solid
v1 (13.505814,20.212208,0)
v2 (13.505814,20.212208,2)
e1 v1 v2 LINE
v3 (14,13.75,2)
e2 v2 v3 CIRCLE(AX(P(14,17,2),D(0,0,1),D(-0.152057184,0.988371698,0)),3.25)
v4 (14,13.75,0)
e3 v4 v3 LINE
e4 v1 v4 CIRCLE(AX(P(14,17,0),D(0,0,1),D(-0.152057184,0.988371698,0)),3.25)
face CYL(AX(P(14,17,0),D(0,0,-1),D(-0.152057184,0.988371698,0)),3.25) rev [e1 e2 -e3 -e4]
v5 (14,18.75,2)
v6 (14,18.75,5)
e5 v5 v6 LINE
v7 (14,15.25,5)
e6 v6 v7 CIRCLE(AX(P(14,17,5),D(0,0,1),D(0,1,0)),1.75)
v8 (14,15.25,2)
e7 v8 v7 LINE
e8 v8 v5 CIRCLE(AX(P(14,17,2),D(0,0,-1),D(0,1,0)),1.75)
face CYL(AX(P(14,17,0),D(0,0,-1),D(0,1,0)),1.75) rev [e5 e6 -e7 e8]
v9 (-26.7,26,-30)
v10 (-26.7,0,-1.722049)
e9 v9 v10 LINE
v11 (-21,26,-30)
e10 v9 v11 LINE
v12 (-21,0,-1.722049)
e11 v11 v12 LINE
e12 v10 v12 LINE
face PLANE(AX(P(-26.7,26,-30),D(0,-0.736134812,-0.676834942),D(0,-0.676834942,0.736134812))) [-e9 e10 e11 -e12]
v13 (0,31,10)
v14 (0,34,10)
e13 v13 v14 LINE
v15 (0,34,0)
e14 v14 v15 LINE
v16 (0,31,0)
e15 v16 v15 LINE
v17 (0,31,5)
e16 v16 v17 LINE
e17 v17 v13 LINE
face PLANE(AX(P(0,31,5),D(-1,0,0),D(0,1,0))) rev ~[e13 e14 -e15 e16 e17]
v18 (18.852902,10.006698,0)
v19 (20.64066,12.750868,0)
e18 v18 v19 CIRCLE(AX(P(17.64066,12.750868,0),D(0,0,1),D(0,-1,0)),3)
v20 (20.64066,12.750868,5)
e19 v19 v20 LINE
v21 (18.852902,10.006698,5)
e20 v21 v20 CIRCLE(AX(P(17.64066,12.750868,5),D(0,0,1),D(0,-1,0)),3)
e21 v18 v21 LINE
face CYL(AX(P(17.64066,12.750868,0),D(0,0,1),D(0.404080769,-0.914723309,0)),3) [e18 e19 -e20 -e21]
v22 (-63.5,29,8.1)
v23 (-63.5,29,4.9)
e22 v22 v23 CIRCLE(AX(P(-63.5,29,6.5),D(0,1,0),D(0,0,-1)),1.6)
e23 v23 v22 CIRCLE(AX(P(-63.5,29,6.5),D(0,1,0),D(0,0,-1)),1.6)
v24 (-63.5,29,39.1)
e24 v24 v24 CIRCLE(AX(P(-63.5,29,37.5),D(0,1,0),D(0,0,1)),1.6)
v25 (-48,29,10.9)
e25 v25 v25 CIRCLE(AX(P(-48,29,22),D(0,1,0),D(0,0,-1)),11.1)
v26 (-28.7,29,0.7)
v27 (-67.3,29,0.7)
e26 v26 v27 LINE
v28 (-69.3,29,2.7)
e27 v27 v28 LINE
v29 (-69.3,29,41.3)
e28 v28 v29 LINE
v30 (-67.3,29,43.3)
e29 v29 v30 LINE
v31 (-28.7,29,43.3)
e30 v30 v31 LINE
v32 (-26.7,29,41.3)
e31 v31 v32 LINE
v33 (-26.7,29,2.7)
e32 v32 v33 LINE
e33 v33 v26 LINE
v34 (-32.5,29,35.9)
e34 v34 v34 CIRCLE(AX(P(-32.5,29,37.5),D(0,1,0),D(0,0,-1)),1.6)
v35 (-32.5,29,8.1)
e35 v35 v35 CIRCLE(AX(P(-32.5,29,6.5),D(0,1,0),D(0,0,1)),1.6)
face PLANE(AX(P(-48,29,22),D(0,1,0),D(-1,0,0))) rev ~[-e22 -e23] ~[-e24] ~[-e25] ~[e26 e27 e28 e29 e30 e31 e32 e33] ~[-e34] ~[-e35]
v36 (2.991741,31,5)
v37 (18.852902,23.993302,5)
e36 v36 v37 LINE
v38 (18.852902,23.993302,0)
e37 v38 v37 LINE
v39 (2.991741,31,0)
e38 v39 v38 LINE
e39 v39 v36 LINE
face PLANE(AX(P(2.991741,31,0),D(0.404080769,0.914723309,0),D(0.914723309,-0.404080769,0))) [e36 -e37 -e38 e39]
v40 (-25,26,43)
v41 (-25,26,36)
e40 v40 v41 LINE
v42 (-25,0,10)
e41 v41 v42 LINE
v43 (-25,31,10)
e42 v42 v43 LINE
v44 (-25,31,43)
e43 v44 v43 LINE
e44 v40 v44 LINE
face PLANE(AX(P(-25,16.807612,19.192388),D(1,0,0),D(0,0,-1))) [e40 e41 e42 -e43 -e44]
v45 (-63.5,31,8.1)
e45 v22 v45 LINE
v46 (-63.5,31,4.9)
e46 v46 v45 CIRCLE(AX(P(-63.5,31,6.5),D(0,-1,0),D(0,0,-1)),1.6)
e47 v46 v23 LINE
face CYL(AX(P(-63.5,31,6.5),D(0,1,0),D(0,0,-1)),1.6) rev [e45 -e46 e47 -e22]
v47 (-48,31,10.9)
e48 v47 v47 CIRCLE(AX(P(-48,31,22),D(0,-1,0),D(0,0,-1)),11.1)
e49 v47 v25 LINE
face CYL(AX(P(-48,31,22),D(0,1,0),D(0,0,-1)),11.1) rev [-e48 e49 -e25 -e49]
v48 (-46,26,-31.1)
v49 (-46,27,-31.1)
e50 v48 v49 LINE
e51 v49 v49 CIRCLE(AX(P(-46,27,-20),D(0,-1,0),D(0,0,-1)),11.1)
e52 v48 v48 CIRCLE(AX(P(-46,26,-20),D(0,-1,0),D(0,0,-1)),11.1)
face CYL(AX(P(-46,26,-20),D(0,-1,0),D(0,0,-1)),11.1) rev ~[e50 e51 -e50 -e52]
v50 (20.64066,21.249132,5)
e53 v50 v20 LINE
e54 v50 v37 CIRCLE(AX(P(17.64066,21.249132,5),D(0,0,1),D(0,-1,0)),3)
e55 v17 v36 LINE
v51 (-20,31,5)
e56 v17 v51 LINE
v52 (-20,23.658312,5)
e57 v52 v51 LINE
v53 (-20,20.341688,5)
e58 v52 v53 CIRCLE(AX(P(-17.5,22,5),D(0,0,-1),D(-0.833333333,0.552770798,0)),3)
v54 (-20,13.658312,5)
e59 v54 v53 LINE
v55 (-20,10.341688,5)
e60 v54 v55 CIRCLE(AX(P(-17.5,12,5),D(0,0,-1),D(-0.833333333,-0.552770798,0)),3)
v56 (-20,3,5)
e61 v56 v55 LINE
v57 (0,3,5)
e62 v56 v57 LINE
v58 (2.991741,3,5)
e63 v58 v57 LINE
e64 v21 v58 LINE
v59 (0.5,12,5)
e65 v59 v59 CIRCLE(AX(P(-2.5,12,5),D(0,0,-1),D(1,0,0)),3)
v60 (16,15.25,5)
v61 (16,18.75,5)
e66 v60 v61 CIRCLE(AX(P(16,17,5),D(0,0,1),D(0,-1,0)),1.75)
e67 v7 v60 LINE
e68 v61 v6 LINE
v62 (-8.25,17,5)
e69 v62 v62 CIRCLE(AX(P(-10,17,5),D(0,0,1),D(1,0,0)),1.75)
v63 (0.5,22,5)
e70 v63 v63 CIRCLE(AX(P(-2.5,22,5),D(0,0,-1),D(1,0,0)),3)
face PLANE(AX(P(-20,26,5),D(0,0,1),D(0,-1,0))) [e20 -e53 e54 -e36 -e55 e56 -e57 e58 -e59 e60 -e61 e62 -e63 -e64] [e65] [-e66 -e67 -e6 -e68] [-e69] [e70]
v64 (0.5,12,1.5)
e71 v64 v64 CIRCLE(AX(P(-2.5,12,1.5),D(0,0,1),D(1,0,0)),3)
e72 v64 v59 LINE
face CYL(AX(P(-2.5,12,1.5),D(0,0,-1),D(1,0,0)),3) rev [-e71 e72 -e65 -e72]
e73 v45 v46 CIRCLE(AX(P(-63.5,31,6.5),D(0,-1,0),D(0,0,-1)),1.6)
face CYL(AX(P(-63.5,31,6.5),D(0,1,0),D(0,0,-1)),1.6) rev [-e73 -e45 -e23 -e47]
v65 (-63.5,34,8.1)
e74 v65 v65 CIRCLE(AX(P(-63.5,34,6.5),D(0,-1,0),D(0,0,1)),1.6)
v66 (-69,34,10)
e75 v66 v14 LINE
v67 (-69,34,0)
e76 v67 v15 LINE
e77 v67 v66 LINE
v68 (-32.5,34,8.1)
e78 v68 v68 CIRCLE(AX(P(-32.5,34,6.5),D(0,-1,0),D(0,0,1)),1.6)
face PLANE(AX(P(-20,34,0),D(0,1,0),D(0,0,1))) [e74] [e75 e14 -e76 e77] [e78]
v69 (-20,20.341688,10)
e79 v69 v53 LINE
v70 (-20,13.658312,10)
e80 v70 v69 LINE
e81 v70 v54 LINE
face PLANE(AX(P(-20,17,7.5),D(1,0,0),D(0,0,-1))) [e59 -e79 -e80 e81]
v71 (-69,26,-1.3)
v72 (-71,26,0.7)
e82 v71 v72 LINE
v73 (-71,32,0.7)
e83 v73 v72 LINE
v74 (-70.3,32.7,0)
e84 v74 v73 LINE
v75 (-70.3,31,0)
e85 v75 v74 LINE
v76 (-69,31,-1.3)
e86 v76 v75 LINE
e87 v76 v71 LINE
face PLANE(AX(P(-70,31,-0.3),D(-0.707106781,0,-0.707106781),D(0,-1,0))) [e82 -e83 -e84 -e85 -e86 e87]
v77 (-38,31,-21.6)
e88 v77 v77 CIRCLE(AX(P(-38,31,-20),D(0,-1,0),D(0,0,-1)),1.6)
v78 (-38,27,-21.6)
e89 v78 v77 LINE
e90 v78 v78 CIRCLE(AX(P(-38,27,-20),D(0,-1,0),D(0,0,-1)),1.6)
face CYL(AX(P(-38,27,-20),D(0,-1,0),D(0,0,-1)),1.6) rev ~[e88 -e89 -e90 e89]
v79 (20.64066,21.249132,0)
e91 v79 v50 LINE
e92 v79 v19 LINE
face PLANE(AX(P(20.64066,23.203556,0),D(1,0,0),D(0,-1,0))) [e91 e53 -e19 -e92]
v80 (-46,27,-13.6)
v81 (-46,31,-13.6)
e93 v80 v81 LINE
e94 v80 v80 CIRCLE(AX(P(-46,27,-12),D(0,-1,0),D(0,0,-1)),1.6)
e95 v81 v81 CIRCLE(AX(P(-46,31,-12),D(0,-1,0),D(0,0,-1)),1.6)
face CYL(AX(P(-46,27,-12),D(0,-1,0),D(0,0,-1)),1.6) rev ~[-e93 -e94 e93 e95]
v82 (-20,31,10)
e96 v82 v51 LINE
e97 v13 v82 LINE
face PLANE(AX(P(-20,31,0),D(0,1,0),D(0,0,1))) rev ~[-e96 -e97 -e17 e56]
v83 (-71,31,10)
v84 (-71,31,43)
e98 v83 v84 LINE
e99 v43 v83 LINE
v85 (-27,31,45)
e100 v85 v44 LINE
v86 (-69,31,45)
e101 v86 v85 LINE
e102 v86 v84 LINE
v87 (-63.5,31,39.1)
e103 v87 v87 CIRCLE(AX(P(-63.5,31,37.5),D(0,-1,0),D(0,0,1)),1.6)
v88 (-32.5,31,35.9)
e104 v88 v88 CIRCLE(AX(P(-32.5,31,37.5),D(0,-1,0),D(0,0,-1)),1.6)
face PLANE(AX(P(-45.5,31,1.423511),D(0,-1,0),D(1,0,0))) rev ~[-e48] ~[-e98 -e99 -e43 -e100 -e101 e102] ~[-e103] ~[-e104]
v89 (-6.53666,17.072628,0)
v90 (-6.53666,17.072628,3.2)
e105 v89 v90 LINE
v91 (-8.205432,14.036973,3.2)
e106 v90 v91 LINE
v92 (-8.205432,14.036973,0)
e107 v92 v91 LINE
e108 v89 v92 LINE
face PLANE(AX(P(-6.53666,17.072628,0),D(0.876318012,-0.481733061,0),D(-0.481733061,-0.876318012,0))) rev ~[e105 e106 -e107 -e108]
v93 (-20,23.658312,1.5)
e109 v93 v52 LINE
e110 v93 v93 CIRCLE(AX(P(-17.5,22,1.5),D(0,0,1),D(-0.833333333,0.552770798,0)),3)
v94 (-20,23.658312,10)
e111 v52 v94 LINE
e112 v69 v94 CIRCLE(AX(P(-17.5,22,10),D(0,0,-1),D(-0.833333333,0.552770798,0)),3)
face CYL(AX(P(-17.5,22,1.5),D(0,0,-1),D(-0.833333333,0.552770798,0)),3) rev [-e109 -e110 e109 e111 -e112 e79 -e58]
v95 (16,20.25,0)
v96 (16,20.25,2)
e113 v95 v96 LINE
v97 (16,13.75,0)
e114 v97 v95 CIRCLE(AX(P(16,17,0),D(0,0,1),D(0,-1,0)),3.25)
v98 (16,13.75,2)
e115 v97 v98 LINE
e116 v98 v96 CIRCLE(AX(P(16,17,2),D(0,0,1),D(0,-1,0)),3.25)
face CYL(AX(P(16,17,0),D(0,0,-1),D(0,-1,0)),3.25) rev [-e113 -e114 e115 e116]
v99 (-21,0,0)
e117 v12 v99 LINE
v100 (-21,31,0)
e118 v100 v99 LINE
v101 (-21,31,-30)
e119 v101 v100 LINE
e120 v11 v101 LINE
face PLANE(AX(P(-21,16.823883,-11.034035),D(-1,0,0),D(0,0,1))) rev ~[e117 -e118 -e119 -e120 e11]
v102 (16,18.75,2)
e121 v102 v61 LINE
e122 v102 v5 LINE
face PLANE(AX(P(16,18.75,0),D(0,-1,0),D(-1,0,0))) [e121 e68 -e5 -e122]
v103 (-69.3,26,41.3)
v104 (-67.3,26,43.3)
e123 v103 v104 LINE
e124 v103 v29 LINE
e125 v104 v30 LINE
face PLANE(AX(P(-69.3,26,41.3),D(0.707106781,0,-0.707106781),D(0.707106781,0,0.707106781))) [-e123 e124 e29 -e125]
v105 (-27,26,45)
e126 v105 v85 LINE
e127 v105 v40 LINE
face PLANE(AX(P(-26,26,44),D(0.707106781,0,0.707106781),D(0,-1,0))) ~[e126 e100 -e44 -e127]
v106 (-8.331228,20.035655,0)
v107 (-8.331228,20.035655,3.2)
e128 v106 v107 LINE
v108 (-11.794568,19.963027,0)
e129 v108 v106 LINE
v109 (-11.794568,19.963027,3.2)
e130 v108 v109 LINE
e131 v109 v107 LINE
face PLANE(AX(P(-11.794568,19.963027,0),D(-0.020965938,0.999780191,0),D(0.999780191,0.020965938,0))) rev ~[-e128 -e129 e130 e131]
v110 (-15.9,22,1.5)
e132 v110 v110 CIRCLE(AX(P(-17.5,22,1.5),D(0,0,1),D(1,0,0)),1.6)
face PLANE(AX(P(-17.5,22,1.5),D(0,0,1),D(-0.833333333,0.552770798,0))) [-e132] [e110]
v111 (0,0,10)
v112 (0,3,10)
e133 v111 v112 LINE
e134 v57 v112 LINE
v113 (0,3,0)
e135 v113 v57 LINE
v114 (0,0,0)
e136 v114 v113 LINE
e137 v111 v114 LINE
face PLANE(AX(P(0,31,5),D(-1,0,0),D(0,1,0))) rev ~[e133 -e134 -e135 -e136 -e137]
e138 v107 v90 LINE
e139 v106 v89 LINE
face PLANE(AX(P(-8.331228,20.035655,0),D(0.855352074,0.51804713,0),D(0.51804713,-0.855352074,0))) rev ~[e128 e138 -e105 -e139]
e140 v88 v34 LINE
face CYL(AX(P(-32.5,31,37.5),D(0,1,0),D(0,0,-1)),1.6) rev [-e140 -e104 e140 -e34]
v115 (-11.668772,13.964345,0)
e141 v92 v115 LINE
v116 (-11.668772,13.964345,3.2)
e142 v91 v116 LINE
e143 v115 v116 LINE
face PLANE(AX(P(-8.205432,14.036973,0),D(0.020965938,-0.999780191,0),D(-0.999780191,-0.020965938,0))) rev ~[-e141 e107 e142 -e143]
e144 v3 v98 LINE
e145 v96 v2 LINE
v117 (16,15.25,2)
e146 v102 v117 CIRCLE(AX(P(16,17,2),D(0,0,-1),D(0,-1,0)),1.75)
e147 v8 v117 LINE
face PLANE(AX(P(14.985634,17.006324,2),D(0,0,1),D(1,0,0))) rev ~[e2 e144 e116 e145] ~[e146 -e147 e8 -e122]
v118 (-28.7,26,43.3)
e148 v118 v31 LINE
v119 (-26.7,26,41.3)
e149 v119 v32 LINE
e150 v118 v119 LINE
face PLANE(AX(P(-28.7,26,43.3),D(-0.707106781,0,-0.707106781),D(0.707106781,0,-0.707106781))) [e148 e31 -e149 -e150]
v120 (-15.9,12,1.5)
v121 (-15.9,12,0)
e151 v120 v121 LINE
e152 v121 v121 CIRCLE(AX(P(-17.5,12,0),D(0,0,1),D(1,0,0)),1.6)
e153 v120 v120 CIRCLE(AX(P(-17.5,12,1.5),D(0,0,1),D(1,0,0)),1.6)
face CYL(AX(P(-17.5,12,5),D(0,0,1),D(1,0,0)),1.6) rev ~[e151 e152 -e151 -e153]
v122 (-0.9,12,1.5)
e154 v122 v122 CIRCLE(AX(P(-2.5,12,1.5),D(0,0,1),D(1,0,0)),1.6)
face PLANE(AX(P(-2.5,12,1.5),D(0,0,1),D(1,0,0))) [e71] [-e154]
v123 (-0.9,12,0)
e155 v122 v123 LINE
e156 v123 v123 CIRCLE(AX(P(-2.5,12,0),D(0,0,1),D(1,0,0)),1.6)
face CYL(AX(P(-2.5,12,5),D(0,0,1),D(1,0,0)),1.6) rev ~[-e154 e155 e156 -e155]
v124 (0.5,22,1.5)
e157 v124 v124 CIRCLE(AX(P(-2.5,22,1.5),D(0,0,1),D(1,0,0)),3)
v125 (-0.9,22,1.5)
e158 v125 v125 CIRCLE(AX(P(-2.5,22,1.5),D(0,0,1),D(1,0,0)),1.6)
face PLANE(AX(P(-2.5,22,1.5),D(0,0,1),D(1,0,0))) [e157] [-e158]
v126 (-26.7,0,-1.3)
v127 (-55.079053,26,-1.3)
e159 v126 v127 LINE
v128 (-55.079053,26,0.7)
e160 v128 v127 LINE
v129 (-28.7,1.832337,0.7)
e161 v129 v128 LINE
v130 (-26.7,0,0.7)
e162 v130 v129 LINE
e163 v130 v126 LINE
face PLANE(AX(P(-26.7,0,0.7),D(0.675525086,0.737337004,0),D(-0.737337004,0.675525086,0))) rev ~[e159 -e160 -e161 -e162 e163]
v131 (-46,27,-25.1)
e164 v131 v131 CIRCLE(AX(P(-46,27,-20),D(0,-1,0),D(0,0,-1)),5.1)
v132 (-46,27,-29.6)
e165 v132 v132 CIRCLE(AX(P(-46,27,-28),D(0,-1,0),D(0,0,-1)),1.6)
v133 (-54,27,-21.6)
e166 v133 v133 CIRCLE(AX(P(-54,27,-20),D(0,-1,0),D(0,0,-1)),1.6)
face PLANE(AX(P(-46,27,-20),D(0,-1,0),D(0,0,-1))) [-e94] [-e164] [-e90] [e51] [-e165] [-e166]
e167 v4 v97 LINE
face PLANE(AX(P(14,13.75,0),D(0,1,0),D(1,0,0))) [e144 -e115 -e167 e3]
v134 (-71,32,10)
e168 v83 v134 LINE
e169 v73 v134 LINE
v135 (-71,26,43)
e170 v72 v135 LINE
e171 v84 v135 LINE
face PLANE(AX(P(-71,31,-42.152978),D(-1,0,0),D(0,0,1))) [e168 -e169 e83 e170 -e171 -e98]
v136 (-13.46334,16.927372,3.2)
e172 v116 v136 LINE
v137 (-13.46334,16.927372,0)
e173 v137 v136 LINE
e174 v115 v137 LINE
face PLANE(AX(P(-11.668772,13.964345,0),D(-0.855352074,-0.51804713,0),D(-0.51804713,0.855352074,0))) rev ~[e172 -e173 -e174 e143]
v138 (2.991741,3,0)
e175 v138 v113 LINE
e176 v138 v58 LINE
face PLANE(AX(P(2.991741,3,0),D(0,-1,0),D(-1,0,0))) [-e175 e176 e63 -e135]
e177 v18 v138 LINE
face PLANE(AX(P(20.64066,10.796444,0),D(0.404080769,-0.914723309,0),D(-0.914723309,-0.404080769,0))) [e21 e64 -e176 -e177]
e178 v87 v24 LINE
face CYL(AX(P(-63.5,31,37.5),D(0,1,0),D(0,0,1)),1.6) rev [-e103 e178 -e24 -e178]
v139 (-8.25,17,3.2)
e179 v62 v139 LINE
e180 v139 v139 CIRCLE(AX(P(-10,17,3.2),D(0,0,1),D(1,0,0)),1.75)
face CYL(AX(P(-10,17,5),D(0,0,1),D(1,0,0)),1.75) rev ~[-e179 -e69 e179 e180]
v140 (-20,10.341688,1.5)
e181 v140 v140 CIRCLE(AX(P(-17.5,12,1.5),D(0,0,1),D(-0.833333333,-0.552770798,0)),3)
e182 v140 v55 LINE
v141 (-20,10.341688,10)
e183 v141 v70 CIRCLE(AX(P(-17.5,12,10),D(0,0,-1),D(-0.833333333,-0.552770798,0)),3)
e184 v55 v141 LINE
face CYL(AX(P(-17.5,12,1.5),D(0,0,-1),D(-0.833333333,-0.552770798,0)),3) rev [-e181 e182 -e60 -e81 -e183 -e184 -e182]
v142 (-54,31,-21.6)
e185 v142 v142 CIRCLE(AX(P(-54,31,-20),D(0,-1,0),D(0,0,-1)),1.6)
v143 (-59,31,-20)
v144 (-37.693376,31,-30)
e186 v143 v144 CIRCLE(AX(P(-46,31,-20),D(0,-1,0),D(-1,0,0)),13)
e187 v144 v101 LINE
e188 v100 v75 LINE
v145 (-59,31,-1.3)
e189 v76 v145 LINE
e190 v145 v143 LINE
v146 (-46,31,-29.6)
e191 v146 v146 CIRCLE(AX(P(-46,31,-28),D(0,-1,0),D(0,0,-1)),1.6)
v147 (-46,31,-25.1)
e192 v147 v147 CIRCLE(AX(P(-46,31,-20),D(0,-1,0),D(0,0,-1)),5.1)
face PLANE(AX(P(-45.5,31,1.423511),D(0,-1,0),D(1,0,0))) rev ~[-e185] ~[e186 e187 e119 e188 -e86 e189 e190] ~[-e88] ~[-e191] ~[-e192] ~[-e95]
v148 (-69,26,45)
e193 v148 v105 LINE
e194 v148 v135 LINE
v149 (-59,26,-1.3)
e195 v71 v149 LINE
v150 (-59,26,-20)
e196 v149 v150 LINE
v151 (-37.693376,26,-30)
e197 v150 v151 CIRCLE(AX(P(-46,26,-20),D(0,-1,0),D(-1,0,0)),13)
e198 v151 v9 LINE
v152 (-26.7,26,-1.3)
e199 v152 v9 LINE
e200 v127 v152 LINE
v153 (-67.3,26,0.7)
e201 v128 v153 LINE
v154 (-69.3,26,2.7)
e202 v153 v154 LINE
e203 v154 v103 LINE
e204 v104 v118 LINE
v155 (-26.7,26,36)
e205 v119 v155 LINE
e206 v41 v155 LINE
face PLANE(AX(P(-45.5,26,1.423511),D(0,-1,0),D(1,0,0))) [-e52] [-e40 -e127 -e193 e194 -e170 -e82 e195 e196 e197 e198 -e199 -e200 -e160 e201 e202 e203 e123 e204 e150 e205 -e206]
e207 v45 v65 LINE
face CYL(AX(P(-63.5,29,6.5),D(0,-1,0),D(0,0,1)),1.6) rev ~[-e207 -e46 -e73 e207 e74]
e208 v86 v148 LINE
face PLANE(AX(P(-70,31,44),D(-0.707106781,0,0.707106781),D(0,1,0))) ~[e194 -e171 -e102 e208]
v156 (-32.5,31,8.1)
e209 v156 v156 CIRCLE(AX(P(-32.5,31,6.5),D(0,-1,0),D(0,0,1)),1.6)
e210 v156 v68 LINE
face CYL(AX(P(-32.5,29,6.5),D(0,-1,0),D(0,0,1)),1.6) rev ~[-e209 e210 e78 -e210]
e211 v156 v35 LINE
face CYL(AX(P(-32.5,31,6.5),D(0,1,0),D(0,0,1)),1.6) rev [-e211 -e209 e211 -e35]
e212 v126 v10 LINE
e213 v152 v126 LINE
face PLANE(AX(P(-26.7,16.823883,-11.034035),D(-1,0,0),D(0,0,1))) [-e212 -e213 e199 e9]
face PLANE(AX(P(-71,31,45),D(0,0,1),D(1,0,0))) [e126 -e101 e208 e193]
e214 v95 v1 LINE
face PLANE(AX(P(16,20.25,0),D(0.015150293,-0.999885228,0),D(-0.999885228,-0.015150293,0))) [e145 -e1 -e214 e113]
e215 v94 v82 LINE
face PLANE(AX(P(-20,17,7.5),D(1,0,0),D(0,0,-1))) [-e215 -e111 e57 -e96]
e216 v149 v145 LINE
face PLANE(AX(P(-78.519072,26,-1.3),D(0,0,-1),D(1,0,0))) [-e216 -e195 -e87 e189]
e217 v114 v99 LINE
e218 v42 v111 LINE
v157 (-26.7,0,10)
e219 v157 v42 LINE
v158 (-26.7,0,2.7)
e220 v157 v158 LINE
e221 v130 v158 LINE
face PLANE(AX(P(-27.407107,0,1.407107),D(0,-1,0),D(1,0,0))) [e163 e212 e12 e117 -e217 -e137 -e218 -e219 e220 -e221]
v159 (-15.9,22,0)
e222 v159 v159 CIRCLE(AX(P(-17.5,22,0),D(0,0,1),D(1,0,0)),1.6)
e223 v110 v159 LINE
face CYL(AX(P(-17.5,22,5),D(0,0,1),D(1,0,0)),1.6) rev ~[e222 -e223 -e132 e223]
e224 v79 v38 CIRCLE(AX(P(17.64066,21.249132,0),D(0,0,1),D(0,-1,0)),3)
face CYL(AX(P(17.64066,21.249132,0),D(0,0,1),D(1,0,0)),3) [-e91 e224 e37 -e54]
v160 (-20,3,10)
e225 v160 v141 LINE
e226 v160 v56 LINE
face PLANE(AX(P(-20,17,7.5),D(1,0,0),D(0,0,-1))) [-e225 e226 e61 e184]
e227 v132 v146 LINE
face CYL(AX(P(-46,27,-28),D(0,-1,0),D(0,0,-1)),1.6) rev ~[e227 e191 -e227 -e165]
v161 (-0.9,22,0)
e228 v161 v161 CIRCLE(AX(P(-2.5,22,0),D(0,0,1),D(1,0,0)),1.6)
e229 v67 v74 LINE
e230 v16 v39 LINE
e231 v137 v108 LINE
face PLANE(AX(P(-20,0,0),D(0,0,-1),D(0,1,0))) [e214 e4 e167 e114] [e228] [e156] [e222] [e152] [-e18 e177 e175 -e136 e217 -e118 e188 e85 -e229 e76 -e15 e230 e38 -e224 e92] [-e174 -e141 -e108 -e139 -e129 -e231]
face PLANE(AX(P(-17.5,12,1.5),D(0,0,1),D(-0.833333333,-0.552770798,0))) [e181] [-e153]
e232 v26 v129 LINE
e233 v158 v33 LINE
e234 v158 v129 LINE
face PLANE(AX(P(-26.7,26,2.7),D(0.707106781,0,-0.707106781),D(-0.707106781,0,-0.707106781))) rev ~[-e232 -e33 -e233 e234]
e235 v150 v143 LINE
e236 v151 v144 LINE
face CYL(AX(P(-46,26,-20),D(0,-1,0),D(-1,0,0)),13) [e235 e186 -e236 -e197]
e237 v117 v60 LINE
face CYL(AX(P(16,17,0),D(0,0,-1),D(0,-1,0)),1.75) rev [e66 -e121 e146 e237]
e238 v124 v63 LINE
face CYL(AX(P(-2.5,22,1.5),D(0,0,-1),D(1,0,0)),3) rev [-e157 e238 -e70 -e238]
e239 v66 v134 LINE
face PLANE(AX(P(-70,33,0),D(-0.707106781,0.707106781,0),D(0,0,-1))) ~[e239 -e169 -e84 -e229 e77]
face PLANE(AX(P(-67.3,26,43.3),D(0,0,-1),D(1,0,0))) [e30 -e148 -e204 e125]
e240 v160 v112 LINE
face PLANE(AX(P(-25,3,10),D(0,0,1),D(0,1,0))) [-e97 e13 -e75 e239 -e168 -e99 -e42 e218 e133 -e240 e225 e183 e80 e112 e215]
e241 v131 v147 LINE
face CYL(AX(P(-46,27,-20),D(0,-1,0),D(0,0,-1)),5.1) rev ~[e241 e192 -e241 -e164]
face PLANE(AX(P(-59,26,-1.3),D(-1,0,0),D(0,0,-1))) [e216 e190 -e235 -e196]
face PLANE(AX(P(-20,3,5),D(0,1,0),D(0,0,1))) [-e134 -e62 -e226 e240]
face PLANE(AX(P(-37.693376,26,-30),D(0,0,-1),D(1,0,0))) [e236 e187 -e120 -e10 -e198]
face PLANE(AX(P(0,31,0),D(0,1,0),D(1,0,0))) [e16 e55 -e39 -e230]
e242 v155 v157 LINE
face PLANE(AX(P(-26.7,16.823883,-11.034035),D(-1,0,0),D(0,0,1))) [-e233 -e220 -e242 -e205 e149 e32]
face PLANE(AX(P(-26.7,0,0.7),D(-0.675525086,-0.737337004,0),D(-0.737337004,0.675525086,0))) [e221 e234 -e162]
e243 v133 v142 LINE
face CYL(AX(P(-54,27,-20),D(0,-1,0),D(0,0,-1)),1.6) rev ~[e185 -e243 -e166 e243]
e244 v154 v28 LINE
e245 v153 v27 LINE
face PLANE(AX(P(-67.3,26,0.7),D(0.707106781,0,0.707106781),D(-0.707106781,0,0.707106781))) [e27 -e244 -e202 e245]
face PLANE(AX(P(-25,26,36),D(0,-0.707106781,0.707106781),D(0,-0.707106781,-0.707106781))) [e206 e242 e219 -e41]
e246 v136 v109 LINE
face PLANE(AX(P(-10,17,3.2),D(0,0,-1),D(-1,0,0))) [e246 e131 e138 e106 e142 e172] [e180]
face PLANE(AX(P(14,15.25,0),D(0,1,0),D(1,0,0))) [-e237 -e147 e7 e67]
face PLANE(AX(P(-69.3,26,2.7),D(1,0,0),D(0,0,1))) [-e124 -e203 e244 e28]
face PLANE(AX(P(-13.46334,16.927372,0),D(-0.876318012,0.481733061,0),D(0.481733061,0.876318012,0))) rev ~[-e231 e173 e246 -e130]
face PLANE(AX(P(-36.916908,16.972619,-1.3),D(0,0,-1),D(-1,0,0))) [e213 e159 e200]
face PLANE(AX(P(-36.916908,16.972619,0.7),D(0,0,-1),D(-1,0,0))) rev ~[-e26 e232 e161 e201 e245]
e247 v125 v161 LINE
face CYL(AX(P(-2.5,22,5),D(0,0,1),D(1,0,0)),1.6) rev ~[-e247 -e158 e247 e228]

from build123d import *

# Parameters (mm, degrees)
SKETCH_1_W                = 20
SKETCH_1_H                = 34
EXTRUDE_1_DEPTH           = 5
SKETCH_2_W                = 20
SKETCH_2_H                = 3
EXTRUDE_2_DEPTH           = 5
EXTRUDE_3_DEPTH           = 5
FILLET_1_R                = 3
CUT_EXTRUDE_1_DEPTH       = 2
SKETCH_7_R                = 1.6
CUT_EXTRUDE_2_DEPTH       = 41.087864079
SKETCH_8_R                = 1.75
CUT_EXTRUDE_3_DEPTH       = 41.087864079
CUT_EXTRUDE_5_DEPTH       = 3.2
SKETCH_14_W               = 10
SKETCH_14_H               = 3
EXTRUDE_26_DEPTH          = 51
SKETCH_11_W               = 51
SKETCH_11_H               = 87.152977717
SKETCH_11_R               = 11.1
SKETCH_11_R_2             = 1.6
EXTRUDE_27_DEPTH          = 5
CUT_EXTRUDE_7_DEPTH       = 3
SKETCH_16_R               = 1.6
CUT_EXTRUDE_8_DEPTH       = 89.921313531
EXTRUDE_28_DEPTH          = 6.7
SKETCH_18_W               = 40
SKETCH_18_H               = 5
CUT_EXTRUDE_9_DEPTH       = 5
CHAMFER_1_SIZE            = 2
SKETCH_19_W               = 1.7
SKETCH_19_H               = 23
EXTRUDE_31_DEPTH          = 5
SKETCH_20_W               = 5
SKETCH_20_H               = 28
EXTRUDE_33_DEPTH          = 5
EXTRUDE_34_DEPTH          = 1.7
SKETCH_24_R               = 11.1
CUT_EXTRUDE_10_DEPTH      = 1
CUT_EXTRUDE_12_DEPTH      = 88.98863563
SKETCH_26_R               = 5.1
CUT_EXTRUDE_13_DEPTH      = 89.2892972
CHAMFER_2_SIZE            = 2
EXTRUDE_35_DEPTH          = 5.7
EXTRUDE_36_DEPTH          = 2
EXTRUDE_37_DEPTH          = 26
CUT_EXTRUDE_14_DEPTH      = 91.329895384
SKETCH_32_R               = 1.6
CUT_EXTRUDE_15_DEPTH      = 89.2892972
CUT_EXTRUDE_16_DEPTH      = 10
CUT_EXTRUDE_16_DEPTH_BACK = 3.5
SKETCH_33_R               = 3


with BuildPart() as part:
    # 草图1 → 凸台-拉伸1 (new body)
    with BuildSketch(Plane.XY):
        with Locations((-10, 17)):
            Rectangle(SKETCH_1_W, SKETCH_1_H)
    extrude(amount=EXTRUDE_1_DEPTH)

    # 草图2 → 凸台-拉伸2 (add)
    with BuildSketch(Plane.XY.offset(5)):
        with Locations((-10, 32.5)):
            Rectangle(SKETCH_2_W, SKETCH_2_H)
        with Locations((-10, 1.5)):
            Rectangle(SKETCH_2_W, SKETCH_2_H)
    extrude(amount=EXTRUDE_2_DEPTH)

    # 草图4 → 凸台-拉伸3 (add)
    with BuildSketch(Plane(origin=(0, 0, 0), x_dir=(-1, 0, 0), z_dir=(0, 0, -1))):
        Polygon((0, 3), (0, 31), (-2.991740991, 31), (-20.640660029, 23.203556304), (-20.640660029, 10.796443696), (-2.991740991, 3), align=None)
        with BuildLine():
            ThreePointArc((-16, 15.25), (-17.75, 17), (-16, 18.75))
            Line((-16, 18.75), (-14, 18.75))
            ThreePointArc((-14, 18.75), (-12.25, 17), (-14, 15.25))
            Line((-14, 15.25), (-16, 15.25))
        make_face(mode=Mode.SUBTRACT)
    extrude(amount=-EXTRUDE_3_DEPTH)

    # 圆角1
    fillet_1_edges = [part.edges().sort_by_distance(p)[0] for p in [
        (20.640660029, 10.796443696, 2.5),
        (20.640660029, 23.203556304, 2.5),
    ]]
    fillet(fillet_1_edges, radius=FILLET_1_R)

    # 草图5 → 切除-拉伸1 (cut)
    with BuildSketch(Plane(origin=(0, 0, 0), x_dir=(-1, 0, 0), z_dir=(0, 0, -1))):
        with BuildLine():
            Line((-16, 20.25), (-13.505814151, 20.212208017))
            ThreePointArc((-13.505814151, 20.212208017), (-10.759461769, 16.75218561), (-14, 13.75))
            Line((-14, 13.75), (-16, 13.75))
            ThreePointArc((-16, 13.75), (-19.25, 17), (-16, 20.25))
        make_face()
    extrude(amount=-CUT_EXTRUDE_1_DEPTH, mode=Mode.SUBTRACT)

    # 草图7 → 切除-拉伸2 (cut, through all)
    with BuildSketch(Plane.XY.offset(5)):
        with Locations((-17.5, 22)):
            Circle(SKETCH_7_R)
        with Locations((-2.5, 22)):
            Circle(SKETCH_7_R)
        with Locations((-2.5, 12)):
            Circle(SKETCH_7_R)
        with Locations((-17.5, 12)):
            Circle(SKETCH_7_R)
    extrude(amount=-CUT_EXTRUDE_2_DEPTH, mode=Mode.SUBTRACT)

    # 草图8 → 切除-拉伸3 (cut, through all)
    with BuildSketch(Plane.XY.offset(5)):
        with Locations((-10, 17)):
            Circle(SKETCH_8_R)
    extrude(amount=-CUT_EXTRUDE_3_DEPTH, mode=Mode.SUBTRACT)

    # 草图9 → 切除-拉伸5 (cut)
    with BuildSketch(Plane(origin=(0, 0, 0), x_dir=(-1, 0, 0), z_dir=(0, 0, -1))):
        Polygon((11.668772273, 13.964345359), (13.463340173, 16.927371861), (11.7945679, 19.963026502), (8.331227727, 20.035654641), (6.536659827, 17.072628139), (8.2054321, 14.036973498), align=None)
    extrude(amount=-CUT_EXTRUDE_5_DEPTH, mode=Mode.SUBTRACT)

    # 草图14 → 凸台-拉伸26 (add)
    with BuildSketch(Plane.ZY.offset(20)):
        with Locations((5, 32.5)):
            Rectangle(SKETCH_14_W, SKETCH_14_H)
    extrude(amount=EXTRUDE_26_DEPTH)

    # 草图11 → 凸台-拉伸27 (add)
    with BuildSketch(Plane.XZ.offset(-31)):
        with Locations((-45.5, 1.423511141)):
            Rectangle(SKETCH_11_W, SKETCH_11_H)
        with Locations(Location((-48, 22, 0), (0, 0, 270))):
            Circle(SKETCH_11_R, mode=Mode.SUBTRACT)
        with Locations(Location((-32.5, 37.5, 0), (0, 0, 270))):
            Circle(SKETCH_11_R_2, mode=Mode.SUBTRACT)
        with Locations(Location((-32.5, 6.5, 0), (0, 0, 90))):
            Circle(SKETCH_11_R_2, mode=Mode.SUBTRACT)
        with Locations(Location((-63.5, 6.5, 0), (0, 0, 270))):
            Circle(SKETCH_11_R_2, mode=Mode.SUBTRACT)
        with Locations(Location((-63.5, 37.5, 0), (0, 0, 90))):
            Circle(SKETCH_11_R_2, mode=Mode.SUBTRACT)
    extrude(amount=EXTRUDE_27_DEPTH)

    # 草图15 → 切除-拉伸7 (cut)
    with BuildSketch(Plane.XZ.offset(-26)):
        Polygon((-67.3, 43.3), (-28.7, 43.3), (-26.7, 41.3), (-26.7, 2.7), (-28.7, 0.7), (-67.3, 0.7), (-69.3, 2.7), (-69.3, 41.3), align=None)
    extrude(amount=-CUT_EXTRUDE_7_DEPTH, mode=Mode.SUBTRACT)

    # 草图16 → 切除-拉伸8 (cut, through all)
    with BuildSketch(Plane.XZ.offset(-29)):
        with Locations(Location((-63.5, 6.5, 0), (0, 0, 90))):
            Circle(SKETCH_16_R)
        with Locations(Location((-32.5, 6.5, 0), (0, 0, 90))):
            Circle(SKETCH_16_R)
    extrude(amount=-CUT_EXTRUDE_8_DEPTH, mode=Mode.SUBTRACT)

    # 草图17 → 凸台-拉伸28 (add)
    with BuildSketch(Plane.ZY.offset(20)):
        Polygon((0, 26), (5, 26), (5, 3), (10, 3), (10, 0), (0, 0), align=None)
    extrude(amount=EXTRUDE_28_DEPTH)

    # 草图18 → 切除-拉伸9 (cut)
    with BuildSketch(Plane(origin=(-20, 0, 0), x_dir=(0, 0, -1), z_dir=(1, 0, 0))):
        with Locations((-25, 28.5)):
            Rectangle(SKETCH_18_W, SKETCH_18_H)
    extrude(amount=-CUT_EXTRUDE_9_DEPTH, mode=Mode.SUBTRACT)

    # 倒角1
    chamfer_1_edges = [part.edges().sort_by_distance(p)[0] for p in [
        (-71, 34, 5),
        (-71, 28.5, 45),
        (-25, 28.5, 45),
    ]]
    chamfer(chamfer_1_edges, length=CHAMFER_1_SIZE)

    # 草图19 → 凸台-拉伸31 (add)
    with BuildSketch(Plane.XY.offset(5)):
        with Locations((-25.85, 14.5)):
            Rectangle(SKETCH_19_W, SKETCH_19_H)
    extrude(amount=EXTRUDE_31_DEPTH)

    # 草图20 → 凸台-拉伸33 (add)
    with BuildSketch(Plane(origin=(-25, 0, 0), x_dir=(0, 0, -1), z_dir=(1, 0, 0))):
        with Locations((-7.5, 17)):
            Rectangle(SKETCH_20_W, SKETCH_20_H)
    extrude(amount=EXTRUDE_33_DEPTH)

    # 草图23 → 凸台-拉伸34 (add)
    with BuildSketch(Plane(origin=(-25, 0, 0), x_dir=(0, 0, -1), z_dir=(1, 0, 0))):
        Polygon((-10, 0), (-10, 26), (-36, 26), align=None)
    extrude(amount=-EXTRUDE_34_DEPTH)

    # 草图24 → 切除-拉伸10 (cut)
    with BuildSketch(Plane.XZ.offset(-26)):
        with Locations(Location((-46, -20, 0), (0, 0, 270))):
            Circle(SKETCH_24_R)
    extrude(amount=-CUT_EXTRUDE_10_DEPTH, mode=Mode.SUBTRACT)

    # 草图25 → 切除-拉伸12 (cut, through all)
    with BuildSketch(Plane.XZ.offset(-26)):
        with BuildLine():
            Line((-78.519072423, -1.3), (-59, -1.3))
            Line((-59, -1.3), (-59, -20))
            ThreePointArc((-59, -20), (-51.523309234, -31.768307232), (-37.693376137, -30))
            Line((-37.693376137, -30), (-21, -30))
            Line((-21, -30), (-21, 0))
            Line((-21, 0), (-16.887627511, 0))
            Line((-16.887627511, 0), (-16.887627511, -53.680594447))
            Line((-16.887627511, -53.680594447), (-78.519072423, -54.78523931))
            Line((-78.519072423, -54.78523931), (-78.519072423, -1.3))
        make_face()
    extrude(amount=-CUT_EXTRUDE_12_DEPTH, mode=Mode.SUBTRACT)

    # 草图26 → 切除-拉伸13 (cut, through all)
    with BuildSketch(Plane.XZ.offset(-27)):
        with Locations(Location((-46, -20, 0), (0, 0, 270))):
            Circle(SKETCH_26_R)
    extrude(amount=-CUT_EXTRUDE_13_DEPTH, mode=Mode.SUBTRACT)

    # 倒角2
    chamfer_2_edges = [part.edges().sort_by_distance(p)[0] for p in [
        (-71, 28.5, -1.3),
    ]]
    chamfer(chamfer_2_edges, length=CHAMFER_2_SIZE)

    # 草图27 → 凸台-拉伸35 (add)
    with BuildSketch(Plane.ZY.offset(26.7)):
        Polygon((0, 0), (0, 26), (-30, 26), (-1.72204929, 0), align=None)
    extrude(amount=-EXTRUDE_35_DEPTH)

    # 草图28 → 凸台-拉伸36 (add)
    with BuildSketch(Plane.XY.offset(0.7)):
        Polygon((-55.07905283, 26), (-26.7, 26), (-26.7, 0), align=None)
    extrude(amount=-EXTRUDE_36_DEPTH)

    # 草图29 → 凸台-拉伸37 (add)
    with BuildSketch(Plane.XZ.offset(-26)):
        Polygon((-26.7, 2.7), (-28.7, 0.7), (-26.7, 0.7), align=None)
    extrude(amount=EXTRUDE_37_DEPTH)

    # 草图30 → 切除-拉伸14 (cut, through all)
    with BuildSketch(Plane(origin=(0, 0, 0.7), x_dir=(-1, 0, 0), z_dir=(0, 0, -1))):
        Polygon((28.7, 0), (26.7, 0), (28.7, 1.832337404), align=None)
    extrude(amount=-CUT_EXTRUDE_14_DEPTH, mode=Mode.SUBTRACT)

    # 草图32 → 切除-拉伸15 (cut, through all)
    with BuildSketch(Plane.XZ.offset(-27)):
        with Locations(Location((-46, -12, 0), (0, 0, 270))):
            Circle(SKETCH_32_R)
        with Locations(Location((-54, -20, 0), (0, 0, 270))):
            Circle(SKETCH_32_R)
        with Locations(Location((-38, -20, 0), (0, 0, 270))):
            Circle(SKETCH_32_R)
        with Locations(Location((-46, -28, 0), (0, 0, 270))):
            Circle(SKETCH_32_R)
    extrude(amount=-CUT_EXTRUDE_15_DEPTH, mode=Mode.SUBTRACT)

    # 草图33 → 切除-拉伸16 (cut, two sides: drawn at the far end of the back side and taken through both)
    with BuildSketch(Plane.XY.offset(5).offset(-CUT_EXTRUDE_16_DEPTH_BACK)):
        with Locations((-2.5, 12)):
            Circle(SKETCH_33_R)
        with Locations(Location((-17.5, 12, 0), (0, 0, 213.557309762))):
            Circle(SKETCH_33_R)
        with Locations((-2.5, 22)):
            Circle(SKETCH_33_R)
        with Locations(Location((-17.5, 22, 0), (0, 0, 146.442690238))):
            Circle(SKETCH_33_R)
    extrude(amount=CUT_EXTRUDE_16_DEPTH + CUT_EXTRUDE_16_DEPTH_BACK, mode=Mode.SUBTRACT)


solid = part.part
